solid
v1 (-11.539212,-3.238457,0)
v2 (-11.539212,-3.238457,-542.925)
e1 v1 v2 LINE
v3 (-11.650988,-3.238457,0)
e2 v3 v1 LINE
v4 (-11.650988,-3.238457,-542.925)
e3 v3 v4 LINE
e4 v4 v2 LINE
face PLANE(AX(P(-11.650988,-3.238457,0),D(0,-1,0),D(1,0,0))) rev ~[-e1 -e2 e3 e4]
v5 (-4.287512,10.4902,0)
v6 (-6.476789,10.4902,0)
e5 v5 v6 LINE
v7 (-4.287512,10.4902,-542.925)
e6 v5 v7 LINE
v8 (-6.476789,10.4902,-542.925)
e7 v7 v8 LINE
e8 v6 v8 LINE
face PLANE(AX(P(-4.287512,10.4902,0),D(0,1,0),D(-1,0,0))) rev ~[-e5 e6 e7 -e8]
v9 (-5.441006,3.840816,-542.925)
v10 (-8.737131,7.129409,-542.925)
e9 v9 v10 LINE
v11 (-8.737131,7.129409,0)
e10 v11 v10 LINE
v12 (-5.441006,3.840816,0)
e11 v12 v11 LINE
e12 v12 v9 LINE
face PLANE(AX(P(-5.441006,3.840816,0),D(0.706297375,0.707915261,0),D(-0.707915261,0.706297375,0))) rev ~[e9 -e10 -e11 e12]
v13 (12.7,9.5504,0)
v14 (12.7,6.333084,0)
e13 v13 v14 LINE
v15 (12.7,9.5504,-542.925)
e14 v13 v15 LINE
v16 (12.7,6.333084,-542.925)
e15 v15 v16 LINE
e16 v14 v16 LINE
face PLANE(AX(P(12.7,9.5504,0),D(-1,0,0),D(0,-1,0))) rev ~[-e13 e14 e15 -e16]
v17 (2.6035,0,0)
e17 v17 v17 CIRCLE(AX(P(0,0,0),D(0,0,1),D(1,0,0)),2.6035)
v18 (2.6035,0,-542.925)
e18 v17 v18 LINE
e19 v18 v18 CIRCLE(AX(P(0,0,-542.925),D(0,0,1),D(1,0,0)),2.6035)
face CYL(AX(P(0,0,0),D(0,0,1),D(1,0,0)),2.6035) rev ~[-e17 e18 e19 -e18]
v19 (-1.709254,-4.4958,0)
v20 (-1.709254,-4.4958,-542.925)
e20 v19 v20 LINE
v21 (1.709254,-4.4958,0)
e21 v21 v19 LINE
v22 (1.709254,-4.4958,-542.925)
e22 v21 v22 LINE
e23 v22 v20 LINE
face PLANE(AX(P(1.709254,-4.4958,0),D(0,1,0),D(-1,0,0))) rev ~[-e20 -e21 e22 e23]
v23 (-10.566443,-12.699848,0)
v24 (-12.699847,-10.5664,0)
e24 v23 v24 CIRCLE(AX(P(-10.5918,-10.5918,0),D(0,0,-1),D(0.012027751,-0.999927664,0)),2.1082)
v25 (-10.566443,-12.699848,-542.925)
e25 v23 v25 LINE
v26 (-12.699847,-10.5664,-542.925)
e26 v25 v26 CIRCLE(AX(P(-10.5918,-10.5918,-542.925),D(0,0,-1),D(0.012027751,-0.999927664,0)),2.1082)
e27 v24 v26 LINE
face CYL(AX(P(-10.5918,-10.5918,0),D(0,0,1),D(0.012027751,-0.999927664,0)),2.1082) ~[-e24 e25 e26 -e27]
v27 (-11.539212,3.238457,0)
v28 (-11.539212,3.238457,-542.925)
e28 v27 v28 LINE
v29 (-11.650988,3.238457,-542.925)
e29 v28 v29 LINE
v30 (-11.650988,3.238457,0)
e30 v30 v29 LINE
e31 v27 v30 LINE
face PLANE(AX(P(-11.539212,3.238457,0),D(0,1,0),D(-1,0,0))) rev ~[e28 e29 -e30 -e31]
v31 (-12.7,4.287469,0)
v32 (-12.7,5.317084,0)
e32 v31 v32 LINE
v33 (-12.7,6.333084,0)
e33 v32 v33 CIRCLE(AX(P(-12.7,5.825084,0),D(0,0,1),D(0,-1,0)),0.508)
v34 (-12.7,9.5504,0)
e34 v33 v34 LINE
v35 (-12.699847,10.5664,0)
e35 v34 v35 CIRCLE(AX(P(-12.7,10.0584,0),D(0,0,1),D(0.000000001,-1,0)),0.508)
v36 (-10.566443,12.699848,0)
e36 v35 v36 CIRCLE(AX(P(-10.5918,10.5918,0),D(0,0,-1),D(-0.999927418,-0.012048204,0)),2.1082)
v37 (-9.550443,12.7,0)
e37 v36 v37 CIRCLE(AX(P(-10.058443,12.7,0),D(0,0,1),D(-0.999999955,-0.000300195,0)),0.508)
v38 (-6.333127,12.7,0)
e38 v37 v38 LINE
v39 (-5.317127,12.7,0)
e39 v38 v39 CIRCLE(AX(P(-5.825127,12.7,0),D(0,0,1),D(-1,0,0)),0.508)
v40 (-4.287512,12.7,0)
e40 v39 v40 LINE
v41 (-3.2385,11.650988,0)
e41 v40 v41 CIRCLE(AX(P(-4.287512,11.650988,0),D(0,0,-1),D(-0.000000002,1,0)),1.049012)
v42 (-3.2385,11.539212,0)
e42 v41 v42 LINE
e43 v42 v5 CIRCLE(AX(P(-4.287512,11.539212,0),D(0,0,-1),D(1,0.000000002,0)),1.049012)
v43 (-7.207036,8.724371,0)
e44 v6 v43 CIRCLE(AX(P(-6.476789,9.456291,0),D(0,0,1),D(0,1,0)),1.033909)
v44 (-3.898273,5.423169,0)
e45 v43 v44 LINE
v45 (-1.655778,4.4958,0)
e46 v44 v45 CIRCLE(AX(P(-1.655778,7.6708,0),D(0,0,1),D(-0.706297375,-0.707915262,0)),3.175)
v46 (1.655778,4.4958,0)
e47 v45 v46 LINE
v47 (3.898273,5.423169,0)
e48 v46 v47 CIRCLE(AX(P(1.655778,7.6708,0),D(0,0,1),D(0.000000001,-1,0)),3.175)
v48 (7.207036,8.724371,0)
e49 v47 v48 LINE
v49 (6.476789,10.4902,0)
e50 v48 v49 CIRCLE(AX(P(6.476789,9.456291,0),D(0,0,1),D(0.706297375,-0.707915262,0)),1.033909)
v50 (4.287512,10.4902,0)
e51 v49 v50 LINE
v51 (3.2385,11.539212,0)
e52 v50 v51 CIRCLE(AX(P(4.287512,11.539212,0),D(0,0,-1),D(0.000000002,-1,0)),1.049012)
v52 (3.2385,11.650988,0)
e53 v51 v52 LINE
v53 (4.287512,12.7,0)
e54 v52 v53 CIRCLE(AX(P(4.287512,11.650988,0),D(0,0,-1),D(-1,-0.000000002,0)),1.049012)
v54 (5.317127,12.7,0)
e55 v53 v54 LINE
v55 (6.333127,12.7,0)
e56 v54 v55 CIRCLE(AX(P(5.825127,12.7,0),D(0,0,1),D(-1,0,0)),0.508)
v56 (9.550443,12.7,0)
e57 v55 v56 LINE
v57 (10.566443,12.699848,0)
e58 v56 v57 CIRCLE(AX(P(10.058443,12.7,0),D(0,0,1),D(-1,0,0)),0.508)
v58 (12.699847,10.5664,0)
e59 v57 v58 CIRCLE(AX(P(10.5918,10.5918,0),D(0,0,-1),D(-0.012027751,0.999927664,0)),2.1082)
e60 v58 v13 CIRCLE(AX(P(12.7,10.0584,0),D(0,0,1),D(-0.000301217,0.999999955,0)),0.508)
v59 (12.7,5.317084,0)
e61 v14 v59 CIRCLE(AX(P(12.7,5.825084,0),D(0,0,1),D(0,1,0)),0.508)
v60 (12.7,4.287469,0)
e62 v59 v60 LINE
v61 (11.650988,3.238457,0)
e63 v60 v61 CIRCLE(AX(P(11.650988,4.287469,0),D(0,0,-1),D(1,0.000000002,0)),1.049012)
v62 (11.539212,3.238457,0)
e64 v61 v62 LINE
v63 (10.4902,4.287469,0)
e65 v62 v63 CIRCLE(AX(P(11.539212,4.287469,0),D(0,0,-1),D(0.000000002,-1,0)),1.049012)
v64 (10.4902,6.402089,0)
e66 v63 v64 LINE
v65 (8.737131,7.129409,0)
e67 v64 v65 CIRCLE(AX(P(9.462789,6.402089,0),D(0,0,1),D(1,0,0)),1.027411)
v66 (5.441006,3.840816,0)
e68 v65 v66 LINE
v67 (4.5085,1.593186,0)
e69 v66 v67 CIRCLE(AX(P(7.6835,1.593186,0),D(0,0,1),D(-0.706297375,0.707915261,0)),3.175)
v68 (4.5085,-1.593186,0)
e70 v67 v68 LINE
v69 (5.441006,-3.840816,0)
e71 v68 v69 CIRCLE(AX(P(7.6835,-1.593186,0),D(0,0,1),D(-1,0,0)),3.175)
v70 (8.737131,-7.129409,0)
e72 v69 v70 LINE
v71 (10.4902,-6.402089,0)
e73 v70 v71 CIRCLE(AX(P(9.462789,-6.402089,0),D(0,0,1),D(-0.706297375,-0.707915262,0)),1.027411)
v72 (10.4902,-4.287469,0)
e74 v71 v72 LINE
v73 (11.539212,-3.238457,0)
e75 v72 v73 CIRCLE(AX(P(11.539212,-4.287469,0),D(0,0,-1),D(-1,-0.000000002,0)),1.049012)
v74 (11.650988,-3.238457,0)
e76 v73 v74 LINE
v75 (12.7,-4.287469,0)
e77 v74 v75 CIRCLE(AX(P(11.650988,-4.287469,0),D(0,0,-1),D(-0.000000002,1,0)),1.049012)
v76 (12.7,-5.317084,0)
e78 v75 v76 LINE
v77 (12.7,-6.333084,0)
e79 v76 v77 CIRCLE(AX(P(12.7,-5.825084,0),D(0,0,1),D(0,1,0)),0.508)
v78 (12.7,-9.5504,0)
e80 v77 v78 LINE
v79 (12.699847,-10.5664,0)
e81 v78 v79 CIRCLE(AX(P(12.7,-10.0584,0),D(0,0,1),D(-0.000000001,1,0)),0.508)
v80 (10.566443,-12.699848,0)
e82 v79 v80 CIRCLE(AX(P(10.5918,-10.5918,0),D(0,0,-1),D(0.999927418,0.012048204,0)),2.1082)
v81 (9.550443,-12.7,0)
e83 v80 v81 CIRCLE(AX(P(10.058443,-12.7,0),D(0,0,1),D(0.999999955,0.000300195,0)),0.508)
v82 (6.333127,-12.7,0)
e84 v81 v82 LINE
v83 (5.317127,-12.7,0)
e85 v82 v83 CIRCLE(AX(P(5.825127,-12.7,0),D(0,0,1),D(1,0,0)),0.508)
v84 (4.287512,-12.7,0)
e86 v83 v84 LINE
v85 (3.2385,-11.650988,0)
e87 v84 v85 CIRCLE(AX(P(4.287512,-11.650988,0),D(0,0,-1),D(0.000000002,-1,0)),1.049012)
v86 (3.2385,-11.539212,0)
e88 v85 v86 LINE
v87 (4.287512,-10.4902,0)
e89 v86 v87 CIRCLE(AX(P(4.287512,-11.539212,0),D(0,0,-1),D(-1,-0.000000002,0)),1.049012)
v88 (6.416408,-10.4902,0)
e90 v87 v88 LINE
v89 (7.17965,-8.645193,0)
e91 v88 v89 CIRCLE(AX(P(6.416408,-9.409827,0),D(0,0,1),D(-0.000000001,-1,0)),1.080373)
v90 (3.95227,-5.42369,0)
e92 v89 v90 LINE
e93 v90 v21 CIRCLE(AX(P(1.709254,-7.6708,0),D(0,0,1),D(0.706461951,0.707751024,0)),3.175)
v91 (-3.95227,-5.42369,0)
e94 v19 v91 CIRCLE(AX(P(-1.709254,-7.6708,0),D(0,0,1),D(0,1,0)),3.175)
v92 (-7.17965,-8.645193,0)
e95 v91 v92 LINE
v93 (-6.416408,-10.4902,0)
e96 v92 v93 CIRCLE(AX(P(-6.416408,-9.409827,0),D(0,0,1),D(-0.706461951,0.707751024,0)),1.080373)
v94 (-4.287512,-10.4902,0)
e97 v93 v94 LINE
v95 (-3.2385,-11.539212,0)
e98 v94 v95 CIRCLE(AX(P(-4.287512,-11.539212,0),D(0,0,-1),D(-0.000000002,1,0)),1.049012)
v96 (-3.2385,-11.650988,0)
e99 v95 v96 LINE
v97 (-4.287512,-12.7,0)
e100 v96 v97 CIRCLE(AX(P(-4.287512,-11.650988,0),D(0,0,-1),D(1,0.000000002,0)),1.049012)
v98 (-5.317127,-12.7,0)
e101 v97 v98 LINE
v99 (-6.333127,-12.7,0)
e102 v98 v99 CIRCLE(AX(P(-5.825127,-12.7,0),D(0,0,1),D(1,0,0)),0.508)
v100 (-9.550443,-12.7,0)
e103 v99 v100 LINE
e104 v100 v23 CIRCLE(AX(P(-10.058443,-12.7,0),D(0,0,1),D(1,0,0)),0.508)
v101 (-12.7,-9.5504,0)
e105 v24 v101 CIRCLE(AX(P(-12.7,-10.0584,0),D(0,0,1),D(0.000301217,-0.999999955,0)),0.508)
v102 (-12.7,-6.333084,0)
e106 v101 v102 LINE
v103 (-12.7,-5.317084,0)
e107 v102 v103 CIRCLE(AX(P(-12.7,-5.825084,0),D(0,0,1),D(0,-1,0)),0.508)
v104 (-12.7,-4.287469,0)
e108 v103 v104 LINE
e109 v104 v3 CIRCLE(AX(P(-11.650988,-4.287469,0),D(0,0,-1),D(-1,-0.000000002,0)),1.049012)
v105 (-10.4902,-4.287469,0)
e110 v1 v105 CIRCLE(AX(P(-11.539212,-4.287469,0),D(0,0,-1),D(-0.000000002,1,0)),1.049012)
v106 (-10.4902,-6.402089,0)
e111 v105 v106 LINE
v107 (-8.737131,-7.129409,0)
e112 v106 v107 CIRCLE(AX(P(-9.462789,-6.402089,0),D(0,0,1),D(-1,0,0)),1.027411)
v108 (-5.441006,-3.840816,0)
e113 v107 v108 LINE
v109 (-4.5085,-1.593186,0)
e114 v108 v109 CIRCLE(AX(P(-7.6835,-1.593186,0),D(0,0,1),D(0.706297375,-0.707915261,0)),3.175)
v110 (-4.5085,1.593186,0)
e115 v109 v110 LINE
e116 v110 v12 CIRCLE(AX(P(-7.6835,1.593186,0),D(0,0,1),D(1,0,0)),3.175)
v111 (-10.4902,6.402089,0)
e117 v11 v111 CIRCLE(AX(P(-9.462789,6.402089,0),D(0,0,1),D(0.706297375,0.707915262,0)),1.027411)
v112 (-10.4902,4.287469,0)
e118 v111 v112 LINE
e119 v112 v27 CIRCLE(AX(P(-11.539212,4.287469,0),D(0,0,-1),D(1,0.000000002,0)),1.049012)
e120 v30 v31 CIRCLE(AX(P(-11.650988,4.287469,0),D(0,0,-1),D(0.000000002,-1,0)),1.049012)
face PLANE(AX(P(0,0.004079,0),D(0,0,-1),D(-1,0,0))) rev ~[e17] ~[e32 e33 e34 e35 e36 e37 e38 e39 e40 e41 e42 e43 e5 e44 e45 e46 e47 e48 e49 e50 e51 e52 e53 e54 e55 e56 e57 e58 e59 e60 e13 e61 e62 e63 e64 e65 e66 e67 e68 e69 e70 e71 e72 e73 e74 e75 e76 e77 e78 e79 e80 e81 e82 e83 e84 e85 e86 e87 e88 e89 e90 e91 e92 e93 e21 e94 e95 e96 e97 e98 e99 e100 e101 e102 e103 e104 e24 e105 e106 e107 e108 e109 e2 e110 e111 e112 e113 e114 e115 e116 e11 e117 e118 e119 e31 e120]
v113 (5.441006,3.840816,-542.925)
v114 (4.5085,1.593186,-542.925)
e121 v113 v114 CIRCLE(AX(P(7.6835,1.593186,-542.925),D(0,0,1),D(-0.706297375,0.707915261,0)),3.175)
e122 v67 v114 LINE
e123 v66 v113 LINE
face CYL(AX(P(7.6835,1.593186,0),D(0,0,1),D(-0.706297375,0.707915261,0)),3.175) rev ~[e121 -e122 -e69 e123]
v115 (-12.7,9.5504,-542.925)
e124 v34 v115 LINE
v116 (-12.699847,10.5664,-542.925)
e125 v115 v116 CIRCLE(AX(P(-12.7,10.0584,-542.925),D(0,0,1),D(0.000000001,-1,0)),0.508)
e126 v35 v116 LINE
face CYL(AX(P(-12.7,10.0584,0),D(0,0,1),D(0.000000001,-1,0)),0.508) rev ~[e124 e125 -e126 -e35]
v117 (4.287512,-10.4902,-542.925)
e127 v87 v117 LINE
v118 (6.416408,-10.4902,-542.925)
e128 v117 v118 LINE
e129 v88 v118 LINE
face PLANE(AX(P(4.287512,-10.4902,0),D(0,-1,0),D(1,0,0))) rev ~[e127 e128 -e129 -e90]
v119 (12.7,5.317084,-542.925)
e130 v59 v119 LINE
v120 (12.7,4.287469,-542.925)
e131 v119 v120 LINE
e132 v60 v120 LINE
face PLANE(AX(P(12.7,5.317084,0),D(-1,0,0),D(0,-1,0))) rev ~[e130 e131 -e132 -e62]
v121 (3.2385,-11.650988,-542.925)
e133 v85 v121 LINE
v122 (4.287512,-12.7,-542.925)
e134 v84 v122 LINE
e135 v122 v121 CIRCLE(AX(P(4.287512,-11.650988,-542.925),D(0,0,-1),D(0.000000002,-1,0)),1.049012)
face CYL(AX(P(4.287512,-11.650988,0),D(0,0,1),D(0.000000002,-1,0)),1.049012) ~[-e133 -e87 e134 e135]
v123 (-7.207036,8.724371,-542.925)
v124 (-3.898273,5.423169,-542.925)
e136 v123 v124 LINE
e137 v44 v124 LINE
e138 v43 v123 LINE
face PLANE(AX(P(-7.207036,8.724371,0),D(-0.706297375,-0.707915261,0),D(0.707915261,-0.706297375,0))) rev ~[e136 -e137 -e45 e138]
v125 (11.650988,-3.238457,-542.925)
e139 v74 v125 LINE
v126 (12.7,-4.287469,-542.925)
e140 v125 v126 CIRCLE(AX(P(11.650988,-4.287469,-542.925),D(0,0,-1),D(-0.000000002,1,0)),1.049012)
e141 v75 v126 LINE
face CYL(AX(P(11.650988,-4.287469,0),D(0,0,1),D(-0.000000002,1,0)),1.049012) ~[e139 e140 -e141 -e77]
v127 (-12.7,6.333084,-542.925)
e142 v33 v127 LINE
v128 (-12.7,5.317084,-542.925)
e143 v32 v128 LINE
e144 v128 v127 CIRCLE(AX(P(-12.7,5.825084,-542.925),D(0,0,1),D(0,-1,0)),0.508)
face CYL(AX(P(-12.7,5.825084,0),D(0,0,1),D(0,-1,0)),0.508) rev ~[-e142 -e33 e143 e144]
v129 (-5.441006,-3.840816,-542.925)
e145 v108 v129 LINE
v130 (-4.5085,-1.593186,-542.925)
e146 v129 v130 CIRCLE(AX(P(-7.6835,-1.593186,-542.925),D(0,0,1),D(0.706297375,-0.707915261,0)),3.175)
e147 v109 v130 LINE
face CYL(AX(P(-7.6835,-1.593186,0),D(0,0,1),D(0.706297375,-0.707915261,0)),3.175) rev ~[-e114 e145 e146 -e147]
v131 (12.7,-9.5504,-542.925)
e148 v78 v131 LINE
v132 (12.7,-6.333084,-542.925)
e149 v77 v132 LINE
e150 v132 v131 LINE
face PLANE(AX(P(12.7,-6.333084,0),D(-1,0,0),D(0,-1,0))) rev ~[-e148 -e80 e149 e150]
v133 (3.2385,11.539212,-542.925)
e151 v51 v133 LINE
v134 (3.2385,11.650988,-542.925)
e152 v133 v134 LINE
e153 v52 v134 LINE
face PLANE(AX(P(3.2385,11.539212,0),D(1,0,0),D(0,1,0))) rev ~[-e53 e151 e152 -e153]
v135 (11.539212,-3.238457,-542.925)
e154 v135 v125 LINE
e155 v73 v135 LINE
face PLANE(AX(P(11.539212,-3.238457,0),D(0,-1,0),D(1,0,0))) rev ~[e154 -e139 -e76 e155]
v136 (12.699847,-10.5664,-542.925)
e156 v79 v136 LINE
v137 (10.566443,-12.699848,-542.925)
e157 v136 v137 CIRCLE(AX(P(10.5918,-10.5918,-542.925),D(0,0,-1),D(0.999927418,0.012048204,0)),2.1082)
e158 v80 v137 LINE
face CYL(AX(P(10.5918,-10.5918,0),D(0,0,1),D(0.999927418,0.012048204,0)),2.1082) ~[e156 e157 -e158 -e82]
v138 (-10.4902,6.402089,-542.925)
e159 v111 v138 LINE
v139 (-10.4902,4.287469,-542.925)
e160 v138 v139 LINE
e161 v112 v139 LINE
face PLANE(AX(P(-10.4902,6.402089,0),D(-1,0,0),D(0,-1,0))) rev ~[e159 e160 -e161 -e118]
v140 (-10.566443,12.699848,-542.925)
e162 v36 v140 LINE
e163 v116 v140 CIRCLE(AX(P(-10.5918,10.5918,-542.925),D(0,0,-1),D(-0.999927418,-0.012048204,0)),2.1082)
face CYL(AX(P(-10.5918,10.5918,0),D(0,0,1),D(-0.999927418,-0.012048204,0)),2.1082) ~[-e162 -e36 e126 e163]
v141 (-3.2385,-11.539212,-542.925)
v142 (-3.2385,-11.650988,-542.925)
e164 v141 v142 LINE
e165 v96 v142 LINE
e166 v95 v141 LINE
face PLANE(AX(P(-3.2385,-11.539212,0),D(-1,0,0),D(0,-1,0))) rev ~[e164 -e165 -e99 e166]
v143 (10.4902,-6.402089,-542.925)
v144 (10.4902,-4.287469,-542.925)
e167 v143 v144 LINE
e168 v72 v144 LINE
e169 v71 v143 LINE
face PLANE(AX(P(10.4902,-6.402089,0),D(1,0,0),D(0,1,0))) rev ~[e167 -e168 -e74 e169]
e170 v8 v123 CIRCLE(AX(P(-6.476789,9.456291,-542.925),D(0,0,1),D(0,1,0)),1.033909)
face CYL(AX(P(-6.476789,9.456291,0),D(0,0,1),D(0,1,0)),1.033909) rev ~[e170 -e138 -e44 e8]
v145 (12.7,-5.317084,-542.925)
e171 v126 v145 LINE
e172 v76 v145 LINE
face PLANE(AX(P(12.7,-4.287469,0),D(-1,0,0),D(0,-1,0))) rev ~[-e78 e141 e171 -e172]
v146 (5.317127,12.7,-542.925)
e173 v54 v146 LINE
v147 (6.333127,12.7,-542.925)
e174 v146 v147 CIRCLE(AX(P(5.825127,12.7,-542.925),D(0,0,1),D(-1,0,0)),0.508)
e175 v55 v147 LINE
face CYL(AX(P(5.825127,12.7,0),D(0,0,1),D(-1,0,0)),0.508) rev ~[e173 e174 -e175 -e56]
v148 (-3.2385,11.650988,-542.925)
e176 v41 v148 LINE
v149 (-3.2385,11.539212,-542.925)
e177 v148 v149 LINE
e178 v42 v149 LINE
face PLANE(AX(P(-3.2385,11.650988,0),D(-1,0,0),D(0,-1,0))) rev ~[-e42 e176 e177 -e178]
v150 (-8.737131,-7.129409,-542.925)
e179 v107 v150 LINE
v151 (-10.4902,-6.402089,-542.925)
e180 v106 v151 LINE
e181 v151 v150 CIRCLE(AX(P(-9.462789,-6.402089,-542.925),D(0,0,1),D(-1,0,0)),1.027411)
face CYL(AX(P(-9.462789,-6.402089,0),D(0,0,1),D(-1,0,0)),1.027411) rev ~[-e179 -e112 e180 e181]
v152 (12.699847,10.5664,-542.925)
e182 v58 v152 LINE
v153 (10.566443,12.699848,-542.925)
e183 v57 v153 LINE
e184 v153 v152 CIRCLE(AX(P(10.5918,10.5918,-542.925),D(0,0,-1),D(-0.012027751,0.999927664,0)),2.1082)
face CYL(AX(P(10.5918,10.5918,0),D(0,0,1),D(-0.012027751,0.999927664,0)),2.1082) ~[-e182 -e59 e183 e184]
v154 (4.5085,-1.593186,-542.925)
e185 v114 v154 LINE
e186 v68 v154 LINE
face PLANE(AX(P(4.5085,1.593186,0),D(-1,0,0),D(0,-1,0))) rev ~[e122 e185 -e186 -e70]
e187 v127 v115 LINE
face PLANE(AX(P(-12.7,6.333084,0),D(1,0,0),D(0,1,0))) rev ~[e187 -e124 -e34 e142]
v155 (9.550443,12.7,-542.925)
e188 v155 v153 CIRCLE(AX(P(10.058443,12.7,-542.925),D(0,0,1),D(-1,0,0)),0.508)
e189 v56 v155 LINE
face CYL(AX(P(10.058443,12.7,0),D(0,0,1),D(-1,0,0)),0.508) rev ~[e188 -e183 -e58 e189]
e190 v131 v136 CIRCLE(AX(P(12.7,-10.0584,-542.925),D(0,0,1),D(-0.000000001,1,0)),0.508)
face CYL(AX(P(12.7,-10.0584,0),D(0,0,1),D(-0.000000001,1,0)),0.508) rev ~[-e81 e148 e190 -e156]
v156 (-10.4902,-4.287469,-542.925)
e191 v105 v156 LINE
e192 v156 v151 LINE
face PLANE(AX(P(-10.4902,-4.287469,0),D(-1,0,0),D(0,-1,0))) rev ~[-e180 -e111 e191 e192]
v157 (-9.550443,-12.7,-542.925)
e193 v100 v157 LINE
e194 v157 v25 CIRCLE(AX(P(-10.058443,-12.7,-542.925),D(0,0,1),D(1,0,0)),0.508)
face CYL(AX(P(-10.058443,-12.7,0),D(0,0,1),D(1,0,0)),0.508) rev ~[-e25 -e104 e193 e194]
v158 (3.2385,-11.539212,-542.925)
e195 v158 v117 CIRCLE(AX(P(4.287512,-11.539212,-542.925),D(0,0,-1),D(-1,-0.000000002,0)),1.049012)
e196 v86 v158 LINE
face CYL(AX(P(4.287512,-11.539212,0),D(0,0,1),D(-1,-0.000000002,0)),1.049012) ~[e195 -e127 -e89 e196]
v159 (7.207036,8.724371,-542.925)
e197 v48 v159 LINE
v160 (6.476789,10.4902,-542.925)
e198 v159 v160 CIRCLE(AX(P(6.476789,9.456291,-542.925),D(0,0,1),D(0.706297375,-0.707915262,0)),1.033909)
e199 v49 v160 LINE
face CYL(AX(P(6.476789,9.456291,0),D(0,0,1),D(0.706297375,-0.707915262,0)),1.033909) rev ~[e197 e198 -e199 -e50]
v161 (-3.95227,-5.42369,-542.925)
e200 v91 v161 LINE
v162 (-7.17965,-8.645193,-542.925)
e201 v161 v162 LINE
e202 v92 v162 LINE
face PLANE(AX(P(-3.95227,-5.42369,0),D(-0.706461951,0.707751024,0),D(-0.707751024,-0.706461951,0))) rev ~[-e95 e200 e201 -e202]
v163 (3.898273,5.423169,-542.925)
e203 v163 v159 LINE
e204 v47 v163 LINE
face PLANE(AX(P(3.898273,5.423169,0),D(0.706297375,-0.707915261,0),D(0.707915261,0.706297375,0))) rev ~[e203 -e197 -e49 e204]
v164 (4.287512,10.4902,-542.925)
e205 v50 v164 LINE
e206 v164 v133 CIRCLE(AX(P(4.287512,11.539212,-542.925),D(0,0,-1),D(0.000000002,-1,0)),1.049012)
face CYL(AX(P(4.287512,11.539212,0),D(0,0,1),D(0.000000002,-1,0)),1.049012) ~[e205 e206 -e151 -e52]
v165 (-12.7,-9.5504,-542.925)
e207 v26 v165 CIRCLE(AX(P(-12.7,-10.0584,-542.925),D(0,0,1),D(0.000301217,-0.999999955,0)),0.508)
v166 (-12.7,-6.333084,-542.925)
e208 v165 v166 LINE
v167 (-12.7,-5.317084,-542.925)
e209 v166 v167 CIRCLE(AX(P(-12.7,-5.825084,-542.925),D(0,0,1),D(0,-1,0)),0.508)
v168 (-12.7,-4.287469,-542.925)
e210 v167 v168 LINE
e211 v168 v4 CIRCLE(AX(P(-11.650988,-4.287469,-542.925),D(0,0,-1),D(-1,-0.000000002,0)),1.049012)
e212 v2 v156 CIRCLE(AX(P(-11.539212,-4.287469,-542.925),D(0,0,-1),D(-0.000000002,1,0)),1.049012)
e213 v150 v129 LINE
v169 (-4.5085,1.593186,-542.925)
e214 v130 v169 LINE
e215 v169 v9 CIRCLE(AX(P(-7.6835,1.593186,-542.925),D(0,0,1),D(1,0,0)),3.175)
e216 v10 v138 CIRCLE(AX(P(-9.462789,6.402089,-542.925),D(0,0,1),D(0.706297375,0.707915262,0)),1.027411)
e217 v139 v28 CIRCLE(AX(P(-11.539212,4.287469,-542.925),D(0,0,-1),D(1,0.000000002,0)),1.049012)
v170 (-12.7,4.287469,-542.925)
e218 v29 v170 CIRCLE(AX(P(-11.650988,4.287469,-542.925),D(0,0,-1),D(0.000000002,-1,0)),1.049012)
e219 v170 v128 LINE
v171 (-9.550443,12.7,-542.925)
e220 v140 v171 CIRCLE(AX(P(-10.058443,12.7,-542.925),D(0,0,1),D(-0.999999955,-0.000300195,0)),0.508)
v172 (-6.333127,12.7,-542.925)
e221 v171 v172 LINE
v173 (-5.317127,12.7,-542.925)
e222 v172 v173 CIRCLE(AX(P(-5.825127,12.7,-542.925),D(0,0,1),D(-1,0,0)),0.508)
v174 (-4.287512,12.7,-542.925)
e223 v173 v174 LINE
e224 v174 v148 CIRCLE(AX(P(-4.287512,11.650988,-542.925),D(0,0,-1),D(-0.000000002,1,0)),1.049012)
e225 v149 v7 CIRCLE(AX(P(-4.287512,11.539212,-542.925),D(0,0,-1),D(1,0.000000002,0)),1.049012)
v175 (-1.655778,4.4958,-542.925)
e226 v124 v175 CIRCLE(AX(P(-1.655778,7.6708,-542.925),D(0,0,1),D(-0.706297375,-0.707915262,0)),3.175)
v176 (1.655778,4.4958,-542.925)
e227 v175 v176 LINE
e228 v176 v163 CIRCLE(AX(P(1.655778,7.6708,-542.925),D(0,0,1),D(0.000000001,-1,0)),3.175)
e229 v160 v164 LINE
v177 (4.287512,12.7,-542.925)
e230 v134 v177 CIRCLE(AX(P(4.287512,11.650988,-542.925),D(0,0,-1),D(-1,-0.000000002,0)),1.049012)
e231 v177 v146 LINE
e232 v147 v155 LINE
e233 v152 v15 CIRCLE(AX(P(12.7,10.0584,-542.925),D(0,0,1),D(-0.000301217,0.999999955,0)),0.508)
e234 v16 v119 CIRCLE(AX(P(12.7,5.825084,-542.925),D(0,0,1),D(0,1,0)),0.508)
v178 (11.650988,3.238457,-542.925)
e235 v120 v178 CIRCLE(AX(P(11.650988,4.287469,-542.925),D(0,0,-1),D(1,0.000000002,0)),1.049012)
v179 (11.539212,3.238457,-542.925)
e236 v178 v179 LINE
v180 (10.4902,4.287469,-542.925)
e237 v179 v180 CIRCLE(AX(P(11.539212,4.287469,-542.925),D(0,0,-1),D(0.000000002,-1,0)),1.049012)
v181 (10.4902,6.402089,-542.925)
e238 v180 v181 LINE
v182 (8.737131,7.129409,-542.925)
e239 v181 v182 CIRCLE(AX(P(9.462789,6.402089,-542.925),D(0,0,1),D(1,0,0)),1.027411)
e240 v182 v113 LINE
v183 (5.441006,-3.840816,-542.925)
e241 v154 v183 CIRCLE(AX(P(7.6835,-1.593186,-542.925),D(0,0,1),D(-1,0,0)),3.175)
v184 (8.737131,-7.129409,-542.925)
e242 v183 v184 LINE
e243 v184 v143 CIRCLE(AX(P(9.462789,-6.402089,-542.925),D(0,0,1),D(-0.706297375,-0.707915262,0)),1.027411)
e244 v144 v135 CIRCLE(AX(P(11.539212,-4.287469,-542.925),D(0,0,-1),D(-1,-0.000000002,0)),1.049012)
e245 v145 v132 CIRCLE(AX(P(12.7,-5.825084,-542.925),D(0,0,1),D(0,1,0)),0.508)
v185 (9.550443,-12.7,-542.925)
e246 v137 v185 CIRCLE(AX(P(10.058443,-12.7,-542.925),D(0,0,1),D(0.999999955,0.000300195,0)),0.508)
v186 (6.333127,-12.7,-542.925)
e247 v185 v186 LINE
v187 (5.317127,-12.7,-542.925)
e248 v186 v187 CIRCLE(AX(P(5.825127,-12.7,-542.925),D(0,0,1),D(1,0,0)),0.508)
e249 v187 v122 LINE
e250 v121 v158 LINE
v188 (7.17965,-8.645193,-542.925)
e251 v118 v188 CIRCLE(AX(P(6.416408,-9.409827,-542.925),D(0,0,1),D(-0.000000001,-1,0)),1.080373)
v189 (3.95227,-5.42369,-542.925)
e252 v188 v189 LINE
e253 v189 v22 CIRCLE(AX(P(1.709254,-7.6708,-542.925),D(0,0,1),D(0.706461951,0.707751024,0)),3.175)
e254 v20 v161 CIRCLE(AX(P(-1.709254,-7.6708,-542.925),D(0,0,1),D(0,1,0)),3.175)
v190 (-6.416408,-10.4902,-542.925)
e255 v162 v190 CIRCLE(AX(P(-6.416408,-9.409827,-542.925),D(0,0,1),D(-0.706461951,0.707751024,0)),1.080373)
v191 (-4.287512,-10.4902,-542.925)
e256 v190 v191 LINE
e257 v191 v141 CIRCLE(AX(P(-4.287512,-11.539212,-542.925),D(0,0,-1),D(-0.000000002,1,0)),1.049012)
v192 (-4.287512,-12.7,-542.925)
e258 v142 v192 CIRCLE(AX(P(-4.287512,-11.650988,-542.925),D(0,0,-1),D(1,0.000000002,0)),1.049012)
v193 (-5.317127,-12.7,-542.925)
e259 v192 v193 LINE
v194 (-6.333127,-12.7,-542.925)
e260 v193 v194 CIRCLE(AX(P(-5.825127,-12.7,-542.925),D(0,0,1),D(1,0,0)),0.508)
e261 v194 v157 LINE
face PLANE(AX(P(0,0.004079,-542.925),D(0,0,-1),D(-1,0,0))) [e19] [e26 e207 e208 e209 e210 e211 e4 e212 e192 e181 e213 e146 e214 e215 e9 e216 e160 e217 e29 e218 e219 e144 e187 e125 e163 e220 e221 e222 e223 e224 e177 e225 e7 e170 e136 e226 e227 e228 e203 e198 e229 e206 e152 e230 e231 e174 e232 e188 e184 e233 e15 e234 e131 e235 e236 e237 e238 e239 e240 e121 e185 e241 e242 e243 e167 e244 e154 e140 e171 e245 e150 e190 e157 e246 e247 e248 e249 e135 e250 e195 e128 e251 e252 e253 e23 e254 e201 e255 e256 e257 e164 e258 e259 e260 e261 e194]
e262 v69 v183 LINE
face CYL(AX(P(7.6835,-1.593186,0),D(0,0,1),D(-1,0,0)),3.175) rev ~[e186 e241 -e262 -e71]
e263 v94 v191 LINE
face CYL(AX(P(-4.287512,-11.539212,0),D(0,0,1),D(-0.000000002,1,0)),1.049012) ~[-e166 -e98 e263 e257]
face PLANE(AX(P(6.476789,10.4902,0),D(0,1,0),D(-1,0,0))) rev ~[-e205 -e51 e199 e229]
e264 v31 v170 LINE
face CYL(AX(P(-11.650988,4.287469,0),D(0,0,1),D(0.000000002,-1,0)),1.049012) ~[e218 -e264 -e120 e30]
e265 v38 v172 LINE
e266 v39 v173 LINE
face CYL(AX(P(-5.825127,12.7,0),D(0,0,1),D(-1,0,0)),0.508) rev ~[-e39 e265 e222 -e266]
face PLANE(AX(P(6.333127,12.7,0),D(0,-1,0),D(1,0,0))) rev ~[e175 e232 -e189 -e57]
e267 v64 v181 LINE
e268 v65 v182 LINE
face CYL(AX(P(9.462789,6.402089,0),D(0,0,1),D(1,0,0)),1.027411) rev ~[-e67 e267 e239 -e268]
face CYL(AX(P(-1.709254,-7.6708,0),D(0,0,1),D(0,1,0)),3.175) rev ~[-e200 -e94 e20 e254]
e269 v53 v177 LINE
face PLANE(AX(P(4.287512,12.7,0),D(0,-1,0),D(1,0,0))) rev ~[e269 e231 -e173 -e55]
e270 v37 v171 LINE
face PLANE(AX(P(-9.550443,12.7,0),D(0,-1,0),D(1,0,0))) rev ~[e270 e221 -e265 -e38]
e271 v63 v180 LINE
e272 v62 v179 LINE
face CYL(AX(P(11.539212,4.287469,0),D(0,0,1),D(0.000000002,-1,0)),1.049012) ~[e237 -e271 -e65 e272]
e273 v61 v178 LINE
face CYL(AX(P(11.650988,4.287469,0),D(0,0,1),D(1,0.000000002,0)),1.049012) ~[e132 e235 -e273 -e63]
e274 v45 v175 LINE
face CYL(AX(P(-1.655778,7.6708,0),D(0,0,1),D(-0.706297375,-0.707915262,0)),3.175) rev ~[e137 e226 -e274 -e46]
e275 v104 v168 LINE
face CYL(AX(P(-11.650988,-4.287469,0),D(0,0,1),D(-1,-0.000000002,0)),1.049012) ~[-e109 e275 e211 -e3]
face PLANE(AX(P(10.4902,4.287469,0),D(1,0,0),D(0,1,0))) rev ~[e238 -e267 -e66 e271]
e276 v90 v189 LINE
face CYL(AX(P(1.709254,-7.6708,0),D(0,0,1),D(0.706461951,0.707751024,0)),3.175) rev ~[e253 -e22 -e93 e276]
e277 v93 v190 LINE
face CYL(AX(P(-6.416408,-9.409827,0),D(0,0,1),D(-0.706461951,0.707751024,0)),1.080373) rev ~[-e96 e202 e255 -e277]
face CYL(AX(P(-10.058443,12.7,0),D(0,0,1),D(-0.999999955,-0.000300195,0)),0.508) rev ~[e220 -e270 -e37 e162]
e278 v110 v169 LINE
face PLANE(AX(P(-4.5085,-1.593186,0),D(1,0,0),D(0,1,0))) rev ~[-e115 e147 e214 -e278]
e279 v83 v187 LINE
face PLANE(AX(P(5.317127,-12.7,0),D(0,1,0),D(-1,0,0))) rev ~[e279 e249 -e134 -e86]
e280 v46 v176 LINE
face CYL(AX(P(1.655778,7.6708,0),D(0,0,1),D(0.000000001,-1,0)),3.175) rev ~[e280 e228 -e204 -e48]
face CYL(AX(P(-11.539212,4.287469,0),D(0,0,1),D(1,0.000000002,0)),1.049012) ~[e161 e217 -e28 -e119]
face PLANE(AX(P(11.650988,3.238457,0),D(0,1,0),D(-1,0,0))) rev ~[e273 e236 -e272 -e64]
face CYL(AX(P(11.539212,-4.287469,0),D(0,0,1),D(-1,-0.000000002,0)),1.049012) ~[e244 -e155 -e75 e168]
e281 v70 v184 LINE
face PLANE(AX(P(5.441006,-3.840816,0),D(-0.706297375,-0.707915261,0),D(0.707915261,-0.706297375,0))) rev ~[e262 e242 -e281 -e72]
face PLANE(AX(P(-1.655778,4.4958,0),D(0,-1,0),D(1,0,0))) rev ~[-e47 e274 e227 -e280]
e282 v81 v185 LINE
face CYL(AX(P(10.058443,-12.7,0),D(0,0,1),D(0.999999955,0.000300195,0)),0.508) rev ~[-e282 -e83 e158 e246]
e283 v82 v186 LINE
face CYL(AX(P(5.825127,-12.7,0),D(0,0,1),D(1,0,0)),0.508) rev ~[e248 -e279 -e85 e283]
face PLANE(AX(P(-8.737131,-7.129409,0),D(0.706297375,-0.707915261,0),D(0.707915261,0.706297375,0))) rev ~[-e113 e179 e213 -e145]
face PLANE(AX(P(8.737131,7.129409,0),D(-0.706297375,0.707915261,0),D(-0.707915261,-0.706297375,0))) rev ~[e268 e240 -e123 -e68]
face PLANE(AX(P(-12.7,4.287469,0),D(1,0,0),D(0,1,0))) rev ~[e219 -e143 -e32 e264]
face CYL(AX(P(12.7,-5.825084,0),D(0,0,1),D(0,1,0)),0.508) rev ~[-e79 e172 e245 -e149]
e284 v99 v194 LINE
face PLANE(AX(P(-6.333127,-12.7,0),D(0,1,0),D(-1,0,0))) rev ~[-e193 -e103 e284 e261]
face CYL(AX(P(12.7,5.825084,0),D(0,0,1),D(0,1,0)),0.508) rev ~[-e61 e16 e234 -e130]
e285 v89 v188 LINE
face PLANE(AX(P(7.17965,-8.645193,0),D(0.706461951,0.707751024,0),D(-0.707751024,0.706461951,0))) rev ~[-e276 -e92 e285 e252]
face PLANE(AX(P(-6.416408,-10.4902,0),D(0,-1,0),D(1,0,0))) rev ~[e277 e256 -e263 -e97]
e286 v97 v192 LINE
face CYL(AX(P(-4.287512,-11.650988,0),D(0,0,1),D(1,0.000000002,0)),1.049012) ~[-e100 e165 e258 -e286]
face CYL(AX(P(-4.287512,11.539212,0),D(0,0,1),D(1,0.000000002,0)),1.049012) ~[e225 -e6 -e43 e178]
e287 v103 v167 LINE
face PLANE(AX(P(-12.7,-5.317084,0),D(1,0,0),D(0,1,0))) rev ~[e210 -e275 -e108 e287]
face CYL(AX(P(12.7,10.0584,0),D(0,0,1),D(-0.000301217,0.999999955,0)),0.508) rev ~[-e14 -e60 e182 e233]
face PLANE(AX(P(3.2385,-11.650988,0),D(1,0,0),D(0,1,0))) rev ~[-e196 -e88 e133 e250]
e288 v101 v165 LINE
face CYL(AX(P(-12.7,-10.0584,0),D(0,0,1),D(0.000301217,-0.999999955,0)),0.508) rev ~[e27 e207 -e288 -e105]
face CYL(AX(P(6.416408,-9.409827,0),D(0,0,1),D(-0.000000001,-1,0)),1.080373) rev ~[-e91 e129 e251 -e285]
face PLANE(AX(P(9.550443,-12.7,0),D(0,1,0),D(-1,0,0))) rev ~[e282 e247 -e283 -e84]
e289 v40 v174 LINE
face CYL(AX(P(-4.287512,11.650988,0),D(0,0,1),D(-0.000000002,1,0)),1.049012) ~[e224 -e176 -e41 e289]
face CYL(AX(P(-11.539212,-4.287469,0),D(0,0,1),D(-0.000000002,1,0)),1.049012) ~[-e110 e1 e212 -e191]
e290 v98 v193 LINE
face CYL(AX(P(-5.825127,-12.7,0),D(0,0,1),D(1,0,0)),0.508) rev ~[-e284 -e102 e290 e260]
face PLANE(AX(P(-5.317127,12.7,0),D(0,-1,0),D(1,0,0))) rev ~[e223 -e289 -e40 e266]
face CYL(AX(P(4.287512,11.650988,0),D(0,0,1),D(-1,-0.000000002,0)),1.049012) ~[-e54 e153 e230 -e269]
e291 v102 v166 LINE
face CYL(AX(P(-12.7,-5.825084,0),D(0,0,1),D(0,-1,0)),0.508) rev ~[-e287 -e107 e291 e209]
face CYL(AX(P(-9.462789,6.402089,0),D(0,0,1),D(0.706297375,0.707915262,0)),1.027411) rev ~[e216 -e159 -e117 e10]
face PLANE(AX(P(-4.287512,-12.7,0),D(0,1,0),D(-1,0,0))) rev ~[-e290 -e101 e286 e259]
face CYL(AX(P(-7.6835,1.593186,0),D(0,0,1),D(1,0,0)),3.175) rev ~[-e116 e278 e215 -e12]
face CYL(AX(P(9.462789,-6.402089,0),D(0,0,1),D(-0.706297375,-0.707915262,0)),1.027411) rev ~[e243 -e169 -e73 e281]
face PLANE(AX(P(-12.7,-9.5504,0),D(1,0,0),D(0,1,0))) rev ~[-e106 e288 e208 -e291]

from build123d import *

# Parameters (mm, degrees)
SKETCH1_R      = 2.6035
EXTRUDE1_DEPTH = 542.925


with BuildPart() as part:
    # Sketch1 → Extrude1 (new body)
    with BuildSketch(Plane.XY):
        with BuildLine():
            Line((-7.207036008, 8.724370562), (-3.898272566, 5.423169045))
            ThreePointArc((-3.898272566, 5.423169045), (-2.869120213, 4.736787962), (-1.655778399, 4.4958))
            Line((-1.655778399, 4.4958), (1.655778399, 4.4958))
            ThreePointArc((1.655778399, 4.4958), (2.869120213, 4.736787962), (3.898272566, 5.423169045))
            Line((3.898272566, 5.423169045), (7.207036008, 8.724370562))
            ThreePointArc((7.207036008, 8.724370562), (7.432222385, 9.85140422), (6.476788598, 10.4902))
            Line((6.476788598, 10.4902), (4.287512407, 10.4902))
            ThreePointArc((4.287512407, 10.4902), (3.54574862, 10.79744862), (3.2385, 11.539212407))
            Line((3.2385, 11.539212407), (3.2385, 11.650987593))
            ThreePointArc((3.2385, 11.650987593), (3.54574862, 12.39275138), (4.287512407, 12.7))
            Line((4.287512407, 12.7), (5.317126718, 12.7))
            ThreePointArc((5.317126718, 12.7), (5.825126718, 12.192), (6.333126718, 12.7))
            Line((6.333126718, 12.7), (9.550443118, 12.7))
            ThreePointArc((9.550443118, 12.7), (10.058366869, 12.192000006), (10.566443095, 12.699847501))
            ThreePointArc((10.566443095, 12.699847501), (12.082537762, 12.08250727), (12.699846982, 10.566399977))
            ThreePointArc((12.699846982, 10.566399977), (12.192000006, 10.058323491), (12.7, 9.5504))
            Line((12.7, 9.5504), (12.7, 6.3330836))
            ThreePointArc((12.7, 6.3330836), (12.192, 5.8250836), (12.7, 5.3170836))
            Line((12.7, 5.3170836), (12.7, 4.287469289))
            ThreePointArc((12.7, 4.287469289), (12.39275138, 3.545705502), (11.650987593, 3.238456882))
            Line((11.650987593, 3.238456882), (11.539212407, 3.238456882))
            ThreePointArc((11.539212407, 3.238456882), (10.79744862, 3.545705502), (10.4902, 4.287469289))
            Line((10.4902, 4.287469289), (10.4902, 6.402089023))
            ThreePointArc((10.4902, 6.402089023), (9.856505071, 7.351067942), (8.737131347, 7.129408934))
            Line((8.737131347, 7.129408934), (5.441005833, 3.840816462))
            ThreePointArc((5.441005833, 3.840816462), (4.750877967, 2.809883091), (4.5085, 1.593185507))
            Line((4.5085, 1.593185507), (4.5085, -1.593185507))
            ThreePointArc((4.5085, -1.593185507), (4.750877967, -2.809883091), (5.441005833, -3.840816462))
            Line((5.441005833, -3.840816462), (8.737131347, -7.129408934))
            ThreePointArc((8.737131347, -7.129408934), (9.856505071, -7.351067942), (10.4902, -6.402089023))
            Line((10.4902, -6.402089023), (10.4902, -4.287469289))
            ThreePointArc((10.4902, -4.287469289), (10.79744862, -3.545705502), (11.539212407, -3.238456882))
            Line((11.539212407, -3.238456882), (11.650987593, -3.238456882))
            ThreePointArc((11.650987593, -3.238456882), (12.39275138, -3.545705502), (12.7, -4.287469289))
            Line((12.7, -4.287469289), (12.7, -5.3170836))
            ThreePointArc((12.7, -5.3170836), (12.192, -5.8250836), (12.7, -6.3330836))
            Line((12.7, -6.3330836), (12.7, -9.5504))
            ThreePointArc((12.7, -9.5504), (12.192000006, -10.058323491), (12.699846982, -10.566399977))
            ThreePointArc((12.699846982, -10.566399977), (12.082537762, -12.08250727), (10.566443095, -12.699847501))
            ThreePointArc((10.566443095, -12.699847501), (10.058366869, -12.192000006), (9.550443118, -12.7))
            Line((9.550443118, -12.7), (6.333126718, -12.7))
            ThreePointArc((6.333126718, -12.7), (5.825126718, -12.192), (5.317126718, -12.7))
            Line((5.317126718, -12.7), (4.287512407, -12.7))
            ThreePointArc((4.287512407, -12.7), (3.54574862, -12.39275138), (3.2385, -11.650987593))
            Line((3.2385, -11.650987593), (3.2385, -11.539212407))
            ThreePointArc((3.2385, -11.539212407), (3.54574862, -10.79744862), (4.287512407, -10.4902))
            Line((4.287512407, -10.4902), (6.416408329, -10.4902))
            ThreePointArc((6.416408329, -10.4902), (7.41473083, -9.822813117), (7.179650497, -8.645192506))
            Line((7.179650497, -8.645192506), (3.952270251, -5.423690499))
            ThreePointArc((3.952270251, -5.423690499), (2.922936451, -4.736929036), (1.709253557, -4.4958))
            Line((1.709253557, -4.4958), (-1.709253557, -4.4958))
            ThreePointArc((-1.709253557, -4.4958), (-2.922936451, -4.736929036), (-3.952270251, -5.423690499))
            Line((-3.952270251, -5.423690499), (-7.179650497, -8.645192506))
            ThreePointArc((-7.179650497, -8.645192506), (-7.41473083, -9.822813117), (-6.416408329, -10.4902))
            Line((-6.416408329, -10.4902), (-4.287512407, -10.4902))
            ThreePointArc((-4.287512407, -10.4902), (-3.54574862, -10.79744862), (-3.2385, -11.539212407))
            Line((-3.2385, -11.539212407), (-3.2385, -11.650987593))
            ThreePointArc((-3.2385, -11.650987593), (-3.54574862, -12.39275138), (-4.287512407, -12.7))
            Line((-4.287512407, -12.7), (-5.317126718, -12.7))
            ThreePointArc((-5.317126718, -12.7), (-5.825126718, -12.192), (-6.333126718, -12.7))
            Line((-6.333126718, -12.7), (-9.550443118, -12.7))
            ThreePointArc((-9.550443118, -12.7), (-10.058366869, -12.192000006), (-10.566443095, -12.699847501))
            ThreePointArc((-10.566443095, -12.699847501), (-12.082537762, -12.08250727), (-12.699846982, -10.566399977))
            ThreePointArc((-12.699846982, -10.566399977), (-12.192000006, -10.058323491), (-12.7, -9.5504))
            Line((-12.7, -9.5504), (-12.7, -6.3330836))
            ThreePointArc((-12.7, -6.3330836), (-12.192, -5.8250836), (-12.7, -5.3170836))
            Line((-12.7, -5.3170836), (-12.7, -4.287469289))
            ThreePointArc((-12.7, -4.287469289), (-12.39275138, -3.545705502), (-11.650987593, -3.238456882))
            Line((-11.650987593, -3.238456882), (-11.539212407, -3.238456882))
            ThreePointArc((-11.539212407, -3.238456882), (-10.79744862, -3.545705502), (-10.4902, -4.287469289))
            Line((-10.4902, -4.287469289), (-10.4902, -6.402089023))
            ThreePointArc((-10.4902, -6.402089023), (-9.856505071, -7.351067942), (-8.737131347, -7.129408934))
            Line((-8.737131347, -7.129408934), (-5.441005833, -3.840816462))
            ThreePointArc((-5.441005833, -3.840816462), (-4.750877967, -2.809883091), (-4.5085, -1.593185507))
            Line((-4.5085, -1.593185507), (-4.5085, 1.593185507))
            ThreePointArc((-4.5085, 1.593185507), (-4.750877967, 2.809883091), (-5.441005833, 3.840816462))
            Line((-5.441005833, 3.840816462), (-8.737131347, 7.129408934))
            ThreePointArc((-8.737131347, 7.129408934), (-9.856505071, 7.351067942), (-10.4902, 6.402089023))
            Line((-10.4902, 6.402089023), (-10.4902, 4.287469289))
            ThreePointArc((-10.4902, 4.287469289), (-10.79744862, 3.545705502), (-11.539212407, 3.238456882))
            Line((-11.539212407, 3.238456882), (-11.650987593, 3.238456882))
            ThreePointArc((-11.650987593, 3.238456882), (-12.39275138, 3.545705502), (-12.7, 4.287469289))
            Line((-12.7, 4.287469289), (-12.7, 5.3170836))
            ThreePointArc((-12.7, 5.3170836), (-12.192, 5.8250836), (-12.7, 6.3330836))
            Line((-12.7, 6.3330836), (-12.7, 9.5504))
            ThreePointArc((-12.7, 9.5504), (-12.192000006, 10.058323491), (-12.699846982, 10.566399977))
            ThreePointArc((-12.699846982, 10.566399977), (-12.082537762, 12.08250727), (-10.566443095, 12.699847501))
            ThreePointArc((-10.566443095, 12.699847501), (-10.058366869, 12.192000006), (-9.550443118, 12.7))
            Line((-9.550443118, 12.7), (-6.333126718, 12.7))
            ThreePointArc((-6.333126718, 12.7), (-5.825126718, 12.192), (-5.317126718, 12.7))
            Line((-5.317126718, 12.7), (-4.287512407, 12.7))
            ThreePointArc((-4.287512407, 12.7), (-3.54574862, 12.39275138), (-3.2385, 11.650987593))
            Line((-3.2385, 11.650987593), (-3.2385, 11.539212407))
            ThreePointArc((-3.2385, 11.539212407), (-3.54574862, 10.79744862), (-4.287512407, 10.4902))
            Line((-4.287512407, 10.4902), (-6.476788598, 10.4902))
            ThreePointArc((-6.476788598, 10.4902), (-7.432222385, 9.85140422), (-7.207036008, 8.724370562))
        make_face()
        Circle(SKETCH1_R, mode=Mode.SUBTRACT)
    extrude(amount=-EXTRUDE1_DEPTH)


solid = part.part
